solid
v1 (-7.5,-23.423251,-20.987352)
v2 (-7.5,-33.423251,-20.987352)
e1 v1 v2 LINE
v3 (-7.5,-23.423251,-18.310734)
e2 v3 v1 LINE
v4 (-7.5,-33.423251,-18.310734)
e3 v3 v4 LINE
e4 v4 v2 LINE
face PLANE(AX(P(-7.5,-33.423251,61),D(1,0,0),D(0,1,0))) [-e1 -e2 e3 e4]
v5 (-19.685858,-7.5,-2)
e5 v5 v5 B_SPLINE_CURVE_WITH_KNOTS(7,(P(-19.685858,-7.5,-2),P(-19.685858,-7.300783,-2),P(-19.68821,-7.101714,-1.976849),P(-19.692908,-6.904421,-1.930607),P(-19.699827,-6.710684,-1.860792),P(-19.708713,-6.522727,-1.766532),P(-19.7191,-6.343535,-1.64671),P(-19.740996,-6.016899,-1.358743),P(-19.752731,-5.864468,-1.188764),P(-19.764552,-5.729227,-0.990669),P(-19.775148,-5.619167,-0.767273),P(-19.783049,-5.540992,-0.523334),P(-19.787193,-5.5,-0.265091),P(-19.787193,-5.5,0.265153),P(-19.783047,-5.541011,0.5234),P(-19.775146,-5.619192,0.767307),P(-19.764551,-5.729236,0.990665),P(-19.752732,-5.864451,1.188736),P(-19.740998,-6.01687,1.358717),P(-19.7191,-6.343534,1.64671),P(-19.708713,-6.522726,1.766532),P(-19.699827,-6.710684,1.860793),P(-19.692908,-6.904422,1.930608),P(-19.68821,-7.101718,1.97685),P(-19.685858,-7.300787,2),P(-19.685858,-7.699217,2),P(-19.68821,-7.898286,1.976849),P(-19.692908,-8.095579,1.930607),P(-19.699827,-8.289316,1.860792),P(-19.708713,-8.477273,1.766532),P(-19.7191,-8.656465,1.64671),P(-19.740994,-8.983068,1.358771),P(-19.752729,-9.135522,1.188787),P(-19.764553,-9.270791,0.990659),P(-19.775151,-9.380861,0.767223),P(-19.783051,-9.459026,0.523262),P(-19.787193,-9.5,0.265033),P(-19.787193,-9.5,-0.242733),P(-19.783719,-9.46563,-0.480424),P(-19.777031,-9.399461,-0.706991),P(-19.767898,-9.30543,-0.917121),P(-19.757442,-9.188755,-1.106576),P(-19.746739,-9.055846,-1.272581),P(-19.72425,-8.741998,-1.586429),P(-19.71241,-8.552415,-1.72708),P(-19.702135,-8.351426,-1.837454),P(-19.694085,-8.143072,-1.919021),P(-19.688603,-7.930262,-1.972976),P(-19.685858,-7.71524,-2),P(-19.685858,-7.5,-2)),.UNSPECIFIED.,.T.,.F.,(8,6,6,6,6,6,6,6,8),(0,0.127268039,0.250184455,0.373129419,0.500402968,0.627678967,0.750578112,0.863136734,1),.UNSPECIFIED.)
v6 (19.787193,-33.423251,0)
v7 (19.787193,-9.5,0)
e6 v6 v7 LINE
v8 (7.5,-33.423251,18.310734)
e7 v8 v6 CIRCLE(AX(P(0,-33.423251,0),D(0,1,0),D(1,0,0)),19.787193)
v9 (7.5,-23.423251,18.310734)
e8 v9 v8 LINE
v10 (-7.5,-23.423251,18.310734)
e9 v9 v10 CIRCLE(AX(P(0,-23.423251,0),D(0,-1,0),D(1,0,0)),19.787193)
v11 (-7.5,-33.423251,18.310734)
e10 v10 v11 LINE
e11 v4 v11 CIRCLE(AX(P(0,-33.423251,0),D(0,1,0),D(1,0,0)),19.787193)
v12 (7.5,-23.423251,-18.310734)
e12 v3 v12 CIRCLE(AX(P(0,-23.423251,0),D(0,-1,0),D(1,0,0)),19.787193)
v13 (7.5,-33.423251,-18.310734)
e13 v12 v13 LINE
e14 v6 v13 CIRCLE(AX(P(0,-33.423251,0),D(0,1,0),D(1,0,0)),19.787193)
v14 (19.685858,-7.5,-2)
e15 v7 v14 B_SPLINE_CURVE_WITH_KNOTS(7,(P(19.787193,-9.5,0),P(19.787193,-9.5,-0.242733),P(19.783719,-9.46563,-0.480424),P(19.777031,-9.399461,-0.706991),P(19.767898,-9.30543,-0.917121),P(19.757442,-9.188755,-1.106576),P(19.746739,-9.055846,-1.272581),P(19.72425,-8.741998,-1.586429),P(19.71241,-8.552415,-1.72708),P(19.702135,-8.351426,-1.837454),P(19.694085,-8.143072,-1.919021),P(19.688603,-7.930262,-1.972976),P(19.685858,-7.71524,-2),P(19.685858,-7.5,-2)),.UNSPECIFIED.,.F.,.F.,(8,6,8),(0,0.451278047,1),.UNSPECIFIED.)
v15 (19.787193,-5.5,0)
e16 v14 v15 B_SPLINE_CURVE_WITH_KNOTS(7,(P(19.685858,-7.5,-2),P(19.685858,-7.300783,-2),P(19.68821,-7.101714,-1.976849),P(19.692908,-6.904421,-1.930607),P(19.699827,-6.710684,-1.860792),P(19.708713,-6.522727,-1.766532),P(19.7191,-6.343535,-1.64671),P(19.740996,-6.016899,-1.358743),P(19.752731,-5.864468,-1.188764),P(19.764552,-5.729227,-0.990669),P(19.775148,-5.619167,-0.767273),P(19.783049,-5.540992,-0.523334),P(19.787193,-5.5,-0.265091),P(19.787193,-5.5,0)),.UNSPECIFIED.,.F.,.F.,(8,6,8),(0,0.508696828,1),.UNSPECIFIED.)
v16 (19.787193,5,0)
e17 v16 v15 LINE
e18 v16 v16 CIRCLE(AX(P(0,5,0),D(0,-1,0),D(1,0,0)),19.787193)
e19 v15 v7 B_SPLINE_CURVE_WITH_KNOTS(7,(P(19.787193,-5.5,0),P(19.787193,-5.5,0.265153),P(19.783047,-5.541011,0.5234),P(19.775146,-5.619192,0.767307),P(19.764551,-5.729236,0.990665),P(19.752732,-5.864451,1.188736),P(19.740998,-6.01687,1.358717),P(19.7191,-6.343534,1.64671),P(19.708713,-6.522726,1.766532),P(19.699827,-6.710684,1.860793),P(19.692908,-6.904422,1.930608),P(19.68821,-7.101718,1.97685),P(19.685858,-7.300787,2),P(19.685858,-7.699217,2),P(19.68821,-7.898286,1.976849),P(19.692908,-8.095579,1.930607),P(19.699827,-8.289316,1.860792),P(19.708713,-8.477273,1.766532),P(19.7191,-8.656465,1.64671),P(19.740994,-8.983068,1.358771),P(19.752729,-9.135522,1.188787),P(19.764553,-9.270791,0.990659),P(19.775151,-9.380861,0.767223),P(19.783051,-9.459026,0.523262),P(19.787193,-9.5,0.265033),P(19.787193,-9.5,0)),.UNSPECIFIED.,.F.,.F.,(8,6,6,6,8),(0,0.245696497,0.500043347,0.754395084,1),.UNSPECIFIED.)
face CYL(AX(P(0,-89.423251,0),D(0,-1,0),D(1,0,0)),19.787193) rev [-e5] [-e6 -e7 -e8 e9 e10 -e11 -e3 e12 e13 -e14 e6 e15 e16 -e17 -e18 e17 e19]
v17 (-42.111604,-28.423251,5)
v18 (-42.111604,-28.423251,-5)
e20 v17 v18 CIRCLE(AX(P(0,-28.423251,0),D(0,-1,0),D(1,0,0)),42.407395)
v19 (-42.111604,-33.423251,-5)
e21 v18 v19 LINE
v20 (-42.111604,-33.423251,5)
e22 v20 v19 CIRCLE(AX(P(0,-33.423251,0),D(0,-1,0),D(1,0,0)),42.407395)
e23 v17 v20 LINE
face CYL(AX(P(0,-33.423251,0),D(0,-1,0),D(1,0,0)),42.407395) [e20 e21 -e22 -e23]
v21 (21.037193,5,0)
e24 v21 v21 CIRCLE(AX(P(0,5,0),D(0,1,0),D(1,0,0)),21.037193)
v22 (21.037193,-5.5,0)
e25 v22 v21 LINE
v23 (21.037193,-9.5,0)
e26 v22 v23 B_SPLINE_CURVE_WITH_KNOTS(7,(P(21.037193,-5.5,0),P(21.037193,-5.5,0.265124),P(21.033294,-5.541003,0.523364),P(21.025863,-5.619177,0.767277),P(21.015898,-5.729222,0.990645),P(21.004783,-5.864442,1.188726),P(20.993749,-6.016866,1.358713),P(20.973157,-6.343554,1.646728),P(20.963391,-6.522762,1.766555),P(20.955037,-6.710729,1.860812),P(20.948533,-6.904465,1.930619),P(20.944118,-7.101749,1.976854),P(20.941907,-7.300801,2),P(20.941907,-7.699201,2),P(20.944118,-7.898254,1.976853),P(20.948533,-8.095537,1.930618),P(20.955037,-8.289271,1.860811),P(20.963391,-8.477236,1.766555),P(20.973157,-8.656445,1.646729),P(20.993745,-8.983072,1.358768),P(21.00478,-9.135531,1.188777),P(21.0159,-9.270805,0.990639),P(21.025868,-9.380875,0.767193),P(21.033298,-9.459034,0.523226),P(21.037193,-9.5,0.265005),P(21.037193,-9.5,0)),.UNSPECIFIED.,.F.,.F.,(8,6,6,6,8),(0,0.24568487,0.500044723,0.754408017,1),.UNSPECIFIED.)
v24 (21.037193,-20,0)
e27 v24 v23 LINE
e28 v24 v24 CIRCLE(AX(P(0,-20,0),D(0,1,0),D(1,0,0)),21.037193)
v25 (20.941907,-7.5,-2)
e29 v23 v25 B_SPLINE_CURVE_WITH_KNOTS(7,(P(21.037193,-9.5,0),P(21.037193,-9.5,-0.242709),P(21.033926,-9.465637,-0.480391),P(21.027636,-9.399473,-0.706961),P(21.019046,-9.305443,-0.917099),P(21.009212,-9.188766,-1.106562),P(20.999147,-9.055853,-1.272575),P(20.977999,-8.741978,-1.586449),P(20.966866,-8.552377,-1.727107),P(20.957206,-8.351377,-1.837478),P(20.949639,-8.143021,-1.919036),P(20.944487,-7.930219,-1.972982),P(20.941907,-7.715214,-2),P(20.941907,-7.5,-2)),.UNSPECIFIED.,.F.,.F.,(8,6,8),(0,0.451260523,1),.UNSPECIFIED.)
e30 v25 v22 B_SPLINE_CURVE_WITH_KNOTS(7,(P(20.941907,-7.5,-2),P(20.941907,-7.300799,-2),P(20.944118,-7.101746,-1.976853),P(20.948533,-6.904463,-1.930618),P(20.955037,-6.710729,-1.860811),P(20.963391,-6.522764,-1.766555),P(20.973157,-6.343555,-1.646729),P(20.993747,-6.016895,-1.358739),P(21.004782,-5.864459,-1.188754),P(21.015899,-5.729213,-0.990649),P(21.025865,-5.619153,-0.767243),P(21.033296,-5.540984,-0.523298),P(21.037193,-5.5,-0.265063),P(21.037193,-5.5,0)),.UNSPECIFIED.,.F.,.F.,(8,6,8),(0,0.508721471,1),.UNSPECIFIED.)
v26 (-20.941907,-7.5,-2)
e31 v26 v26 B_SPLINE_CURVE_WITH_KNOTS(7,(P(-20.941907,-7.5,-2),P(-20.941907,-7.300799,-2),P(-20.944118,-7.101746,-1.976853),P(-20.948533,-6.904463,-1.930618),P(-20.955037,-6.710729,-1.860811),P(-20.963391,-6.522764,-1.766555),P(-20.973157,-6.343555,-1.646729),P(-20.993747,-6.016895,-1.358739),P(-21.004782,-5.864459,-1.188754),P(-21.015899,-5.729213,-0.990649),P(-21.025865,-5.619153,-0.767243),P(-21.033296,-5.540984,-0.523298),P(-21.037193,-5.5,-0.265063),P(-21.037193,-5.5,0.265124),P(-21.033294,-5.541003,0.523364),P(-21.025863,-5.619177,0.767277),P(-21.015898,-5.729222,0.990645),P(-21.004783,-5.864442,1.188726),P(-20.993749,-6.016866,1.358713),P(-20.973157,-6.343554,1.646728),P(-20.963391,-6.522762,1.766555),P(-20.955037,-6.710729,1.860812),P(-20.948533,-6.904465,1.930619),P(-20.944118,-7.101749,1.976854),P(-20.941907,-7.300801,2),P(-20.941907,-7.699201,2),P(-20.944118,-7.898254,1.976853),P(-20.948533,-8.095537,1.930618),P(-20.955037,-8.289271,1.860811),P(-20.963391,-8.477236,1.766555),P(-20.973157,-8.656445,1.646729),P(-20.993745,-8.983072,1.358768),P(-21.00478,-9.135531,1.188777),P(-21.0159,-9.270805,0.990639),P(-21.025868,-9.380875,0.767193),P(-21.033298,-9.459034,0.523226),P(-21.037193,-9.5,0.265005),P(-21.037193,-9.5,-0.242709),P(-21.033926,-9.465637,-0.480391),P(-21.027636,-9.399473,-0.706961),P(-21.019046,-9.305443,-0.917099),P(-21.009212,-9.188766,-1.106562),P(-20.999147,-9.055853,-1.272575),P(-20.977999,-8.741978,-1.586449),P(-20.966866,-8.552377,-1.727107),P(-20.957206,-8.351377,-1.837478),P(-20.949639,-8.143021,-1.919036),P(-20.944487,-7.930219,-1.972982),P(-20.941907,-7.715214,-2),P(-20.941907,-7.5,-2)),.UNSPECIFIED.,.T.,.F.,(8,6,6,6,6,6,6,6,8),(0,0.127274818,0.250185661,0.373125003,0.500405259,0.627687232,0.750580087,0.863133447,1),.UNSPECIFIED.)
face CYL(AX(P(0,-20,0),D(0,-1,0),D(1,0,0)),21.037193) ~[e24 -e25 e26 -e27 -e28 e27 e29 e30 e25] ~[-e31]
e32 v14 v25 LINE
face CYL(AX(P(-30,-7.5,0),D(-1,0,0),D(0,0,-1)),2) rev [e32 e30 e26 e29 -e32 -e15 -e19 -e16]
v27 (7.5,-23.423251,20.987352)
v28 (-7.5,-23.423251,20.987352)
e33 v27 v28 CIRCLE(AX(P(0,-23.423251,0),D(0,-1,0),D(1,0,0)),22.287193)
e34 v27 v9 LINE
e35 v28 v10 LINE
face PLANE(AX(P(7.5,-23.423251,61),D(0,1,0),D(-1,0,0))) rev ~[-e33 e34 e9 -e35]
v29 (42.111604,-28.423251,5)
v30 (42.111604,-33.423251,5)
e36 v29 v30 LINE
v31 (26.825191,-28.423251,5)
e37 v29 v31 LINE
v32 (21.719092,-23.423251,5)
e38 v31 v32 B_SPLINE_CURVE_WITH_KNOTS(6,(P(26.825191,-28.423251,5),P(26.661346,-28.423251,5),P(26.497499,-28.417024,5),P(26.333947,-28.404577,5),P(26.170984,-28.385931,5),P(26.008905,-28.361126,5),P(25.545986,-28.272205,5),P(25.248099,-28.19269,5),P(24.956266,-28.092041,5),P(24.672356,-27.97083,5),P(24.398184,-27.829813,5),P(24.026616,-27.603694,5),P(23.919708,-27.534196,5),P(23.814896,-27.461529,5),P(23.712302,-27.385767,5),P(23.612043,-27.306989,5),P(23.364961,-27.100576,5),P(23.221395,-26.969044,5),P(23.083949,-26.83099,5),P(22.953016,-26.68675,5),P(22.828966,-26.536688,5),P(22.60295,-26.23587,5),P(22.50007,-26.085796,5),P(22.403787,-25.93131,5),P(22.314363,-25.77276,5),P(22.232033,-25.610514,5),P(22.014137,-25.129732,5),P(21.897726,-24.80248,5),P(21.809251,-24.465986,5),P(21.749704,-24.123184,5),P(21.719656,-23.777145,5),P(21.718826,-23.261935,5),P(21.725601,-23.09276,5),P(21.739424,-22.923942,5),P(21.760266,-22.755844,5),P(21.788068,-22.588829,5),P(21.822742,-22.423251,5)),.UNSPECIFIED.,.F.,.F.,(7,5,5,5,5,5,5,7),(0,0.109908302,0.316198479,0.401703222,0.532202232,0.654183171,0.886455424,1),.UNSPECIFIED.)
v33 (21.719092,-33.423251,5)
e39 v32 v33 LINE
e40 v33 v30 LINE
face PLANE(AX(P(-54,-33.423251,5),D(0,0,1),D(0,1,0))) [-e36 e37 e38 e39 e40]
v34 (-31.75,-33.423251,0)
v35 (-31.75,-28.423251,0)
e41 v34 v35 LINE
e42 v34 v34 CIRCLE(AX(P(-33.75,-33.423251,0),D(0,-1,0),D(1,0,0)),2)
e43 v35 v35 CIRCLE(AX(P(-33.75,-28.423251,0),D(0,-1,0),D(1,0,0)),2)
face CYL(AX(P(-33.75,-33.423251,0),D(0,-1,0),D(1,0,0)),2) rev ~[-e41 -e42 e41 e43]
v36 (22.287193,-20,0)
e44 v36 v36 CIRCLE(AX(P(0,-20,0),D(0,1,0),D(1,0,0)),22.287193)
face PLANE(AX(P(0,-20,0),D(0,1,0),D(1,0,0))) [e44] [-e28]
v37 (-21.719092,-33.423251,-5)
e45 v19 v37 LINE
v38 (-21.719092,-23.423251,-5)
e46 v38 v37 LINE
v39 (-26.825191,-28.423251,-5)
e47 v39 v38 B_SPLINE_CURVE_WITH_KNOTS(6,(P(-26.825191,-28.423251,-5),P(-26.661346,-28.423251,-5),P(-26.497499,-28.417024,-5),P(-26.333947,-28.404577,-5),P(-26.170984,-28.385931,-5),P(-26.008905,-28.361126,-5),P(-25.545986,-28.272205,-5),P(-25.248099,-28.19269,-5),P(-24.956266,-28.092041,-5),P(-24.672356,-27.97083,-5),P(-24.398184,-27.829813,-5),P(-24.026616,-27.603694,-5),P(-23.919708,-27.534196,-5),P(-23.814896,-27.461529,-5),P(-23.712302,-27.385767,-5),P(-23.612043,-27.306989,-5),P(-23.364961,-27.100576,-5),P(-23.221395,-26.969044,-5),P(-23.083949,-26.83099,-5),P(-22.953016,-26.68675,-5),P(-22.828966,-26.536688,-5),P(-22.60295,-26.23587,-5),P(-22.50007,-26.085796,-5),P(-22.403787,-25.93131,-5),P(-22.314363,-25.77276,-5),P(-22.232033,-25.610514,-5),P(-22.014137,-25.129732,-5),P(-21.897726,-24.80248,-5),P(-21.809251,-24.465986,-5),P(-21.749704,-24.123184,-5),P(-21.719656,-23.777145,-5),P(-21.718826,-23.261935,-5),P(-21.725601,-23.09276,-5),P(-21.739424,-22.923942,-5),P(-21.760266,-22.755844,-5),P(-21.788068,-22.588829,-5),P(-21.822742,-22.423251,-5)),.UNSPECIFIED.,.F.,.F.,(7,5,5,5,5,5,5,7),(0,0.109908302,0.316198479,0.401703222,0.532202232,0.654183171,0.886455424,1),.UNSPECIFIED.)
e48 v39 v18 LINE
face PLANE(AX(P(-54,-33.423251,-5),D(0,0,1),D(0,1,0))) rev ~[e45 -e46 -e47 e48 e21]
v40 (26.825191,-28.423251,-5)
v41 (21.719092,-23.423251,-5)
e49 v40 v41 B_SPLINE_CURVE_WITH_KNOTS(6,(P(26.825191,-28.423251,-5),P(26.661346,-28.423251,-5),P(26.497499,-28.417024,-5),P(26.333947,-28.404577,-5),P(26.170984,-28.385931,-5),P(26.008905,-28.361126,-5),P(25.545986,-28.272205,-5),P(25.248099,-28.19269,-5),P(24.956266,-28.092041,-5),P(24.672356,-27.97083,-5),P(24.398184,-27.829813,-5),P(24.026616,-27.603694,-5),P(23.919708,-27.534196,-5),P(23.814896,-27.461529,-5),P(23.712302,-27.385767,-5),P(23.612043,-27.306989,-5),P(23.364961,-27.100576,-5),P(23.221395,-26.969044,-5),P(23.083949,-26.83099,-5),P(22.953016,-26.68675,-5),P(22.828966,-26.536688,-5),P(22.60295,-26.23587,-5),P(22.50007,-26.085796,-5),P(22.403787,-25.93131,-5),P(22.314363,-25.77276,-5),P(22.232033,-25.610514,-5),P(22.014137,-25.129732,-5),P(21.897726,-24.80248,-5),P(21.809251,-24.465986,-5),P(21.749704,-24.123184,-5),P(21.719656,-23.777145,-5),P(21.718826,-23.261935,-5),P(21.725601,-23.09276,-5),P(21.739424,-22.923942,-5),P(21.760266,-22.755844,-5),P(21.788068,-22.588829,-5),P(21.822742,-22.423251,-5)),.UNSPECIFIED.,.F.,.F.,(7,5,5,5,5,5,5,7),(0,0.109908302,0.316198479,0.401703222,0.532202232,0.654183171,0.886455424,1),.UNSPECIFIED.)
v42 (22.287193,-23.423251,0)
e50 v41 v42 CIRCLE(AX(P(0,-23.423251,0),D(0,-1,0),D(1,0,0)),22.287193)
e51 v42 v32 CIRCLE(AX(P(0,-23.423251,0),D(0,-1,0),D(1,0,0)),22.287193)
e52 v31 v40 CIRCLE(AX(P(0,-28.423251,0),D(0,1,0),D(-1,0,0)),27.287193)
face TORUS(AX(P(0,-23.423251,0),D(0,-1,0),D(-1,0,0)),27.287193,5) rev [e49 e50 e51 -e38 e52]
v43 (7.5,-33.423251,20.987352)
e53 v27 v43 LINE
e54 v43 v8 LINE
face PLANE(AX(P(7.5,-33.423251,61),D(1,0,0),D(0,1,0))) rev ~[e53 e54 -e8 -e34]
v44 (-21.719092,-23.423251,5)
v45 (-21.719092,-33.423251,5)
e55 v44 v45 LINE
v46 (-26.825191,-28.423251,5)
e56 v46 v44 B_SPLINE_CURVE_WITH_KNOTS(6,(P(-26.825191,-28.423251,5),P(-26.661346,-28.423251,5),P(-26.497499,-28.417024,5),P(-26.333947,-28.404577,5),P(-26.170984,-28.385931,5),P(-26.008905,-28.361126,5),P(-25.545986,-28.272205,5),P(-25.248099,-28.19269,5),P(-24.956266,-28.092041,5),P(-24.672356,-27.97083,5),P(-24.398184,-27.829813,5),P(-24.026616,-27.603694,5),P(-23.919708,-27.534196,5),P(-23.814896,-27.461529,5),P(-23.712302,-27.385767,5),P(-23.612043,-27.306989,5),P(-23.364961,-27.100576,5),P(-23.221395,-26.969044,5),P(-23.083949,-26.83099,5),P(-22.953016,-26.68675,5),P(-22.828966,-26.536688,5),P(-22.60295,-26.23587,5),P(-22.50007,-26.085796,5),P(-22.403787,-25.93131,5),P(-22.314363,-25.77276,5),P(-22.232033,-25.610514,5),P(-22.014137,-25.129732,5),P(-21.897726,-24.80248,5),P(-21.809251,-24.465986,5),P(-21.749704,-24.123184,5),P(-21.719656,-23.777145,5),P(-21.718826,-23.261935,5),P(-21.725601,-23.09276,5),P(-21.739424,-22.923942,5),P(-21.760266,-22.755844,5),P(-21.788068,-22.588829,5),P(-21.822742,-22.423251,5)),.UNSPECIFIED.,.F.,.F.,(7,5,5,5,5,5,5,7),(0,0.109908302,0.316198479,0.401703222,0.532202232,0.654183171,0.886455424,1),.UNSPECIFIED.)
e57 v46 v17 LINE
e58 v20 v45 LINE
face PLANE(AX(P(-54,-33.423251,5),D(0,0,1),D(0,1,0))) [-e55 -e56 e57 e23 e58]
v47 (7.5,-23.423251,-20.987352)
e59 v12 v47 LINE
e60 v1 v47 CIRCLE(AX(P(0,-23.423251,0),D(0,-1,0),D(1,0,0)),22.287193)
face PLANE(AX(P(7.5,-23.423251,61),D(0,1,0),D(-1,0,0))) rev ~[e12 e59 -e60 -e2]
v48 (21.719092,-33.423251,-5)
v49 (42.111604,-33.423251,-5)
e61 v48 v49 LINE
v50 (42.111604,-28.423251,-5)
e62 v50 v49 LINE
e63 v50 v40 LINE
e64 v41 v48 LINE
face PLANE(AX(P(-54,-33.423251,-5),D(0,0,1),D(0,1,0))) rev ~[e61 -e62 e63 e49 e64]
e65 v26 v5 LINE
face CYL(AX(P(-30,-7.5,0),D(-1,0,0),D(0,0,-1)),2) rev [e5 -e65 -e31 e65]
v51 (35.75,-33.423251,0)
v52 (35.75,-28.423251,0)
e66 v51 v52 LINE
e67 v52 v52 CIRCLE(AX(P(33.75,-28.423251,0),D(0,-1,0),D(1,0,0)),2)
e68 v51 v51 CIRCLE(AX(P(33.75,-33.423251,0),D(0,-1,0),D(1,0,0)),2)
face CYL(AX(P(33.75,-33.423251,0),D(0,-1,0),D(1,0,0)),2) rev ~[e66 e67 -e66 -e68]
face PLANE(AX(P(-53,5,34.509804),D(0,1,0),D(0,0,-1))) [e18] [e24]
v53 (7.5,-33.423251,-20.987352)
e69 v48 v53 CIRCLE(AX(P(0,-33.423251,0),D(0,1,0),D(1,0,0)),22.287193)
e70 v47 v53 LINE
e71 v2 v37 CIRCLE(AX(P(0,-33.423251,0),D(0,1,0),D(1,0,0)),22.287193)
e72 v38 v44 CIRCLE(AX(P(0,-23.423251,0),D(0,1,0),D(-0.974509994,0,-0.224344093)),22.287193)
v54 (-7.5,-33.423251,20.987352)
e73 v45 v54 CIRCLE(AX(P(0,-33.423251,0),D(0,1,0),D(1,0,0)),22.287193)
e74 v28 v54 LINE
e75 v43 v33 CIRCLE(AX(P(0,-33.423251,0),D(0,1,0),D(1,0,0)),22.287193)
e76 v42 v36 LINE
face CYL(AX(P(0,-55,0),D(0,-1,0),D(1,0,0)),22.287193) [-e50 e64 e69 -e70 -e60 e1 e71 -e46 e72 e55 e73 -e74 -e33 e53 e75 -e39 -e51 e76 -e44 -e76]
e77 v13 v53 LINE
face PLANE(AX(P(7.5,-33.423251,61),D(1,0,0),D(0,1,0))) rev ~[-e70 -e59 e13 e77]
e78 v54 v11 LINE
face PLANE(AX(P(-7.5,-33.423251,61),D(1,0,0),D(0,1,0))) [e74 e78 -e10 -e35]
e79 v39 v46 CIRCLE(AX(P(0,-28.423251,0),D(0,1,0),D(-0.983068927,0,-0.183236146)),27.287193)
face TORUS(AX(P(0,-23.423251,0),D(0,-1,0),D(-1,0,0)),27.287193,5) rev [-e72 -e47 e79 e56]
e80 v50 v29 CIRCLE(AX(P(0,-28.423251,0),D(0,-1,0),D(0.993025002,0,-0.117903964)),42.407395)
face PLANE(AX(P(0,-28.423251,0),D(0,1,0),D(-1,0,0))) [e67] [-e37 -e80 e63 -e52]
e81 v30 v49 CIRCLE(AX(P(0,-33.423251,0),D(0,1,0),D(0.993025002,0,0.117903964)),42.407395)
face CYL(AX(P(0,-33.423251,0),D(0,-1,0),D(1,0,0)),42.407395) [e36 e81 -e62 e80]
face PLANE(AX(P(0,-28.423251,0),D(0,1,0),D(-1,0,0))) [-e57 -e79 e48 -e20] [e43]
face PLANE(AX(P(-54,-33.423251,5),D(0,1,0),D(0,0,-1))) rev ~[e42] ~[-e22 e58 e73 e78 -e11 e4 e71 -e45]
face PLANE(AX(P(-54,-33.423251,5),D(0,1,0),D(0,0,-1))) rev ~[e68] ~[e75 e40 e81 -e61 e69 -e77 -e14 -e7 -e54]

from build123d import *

# Parameters (mm, degrees)
SKETCH1_R                = 34
BOSS_EXTRUDE1_DEPTH      = 10
SKETCH2_R                = 19.7871926
SKETCH2_R_2              = 2
CUT_EXTRUDE1_DEPTH       = 10
SKETCH3_R                = 4.837531333
SKETCH4_W                = 4.837531333
SKETCH4_H                = 4.837531333
CUT_EXTRUDE3_DEPTH       = 38
CUT_EXTRUDE3_DEPTH_BACK  = 38
SKETCH5_W                = 72.361656805
SKETCH5_H                = 8.896778435
BOSS_EXTRUDE2_START      = 60
SKETCH6_R                = 22.2871926
SKETCH6_R_2              = 19.7871926
BOSS_EXTRUDE2_DEPTH      = 60
SKETCH7_R                = 21.0371926
SKETCH7_R_2              = 19.7871926
CUT_EXTRUDE4_DEPTH       = 25
CUT_EXTRUDE6_DEPTH       = 25
CUT_EXTRUDE6_DEPTH_BACK  = 25
SKETCH8_R                = 2
CUT_EXTRUDE7_DEPTH       = 43
CUT_EXTRUDE7_DEPTH_BACK  = 53
SKETCH9_W                = 69.351432881
SKETCH9_H                = 5.737807944
CUT_EXTRUDE8_START       = -25
SKETCH10_R               = 22.2871926
SKETCH10_R_2             = 21.0371926
CUT_EXTRUDE8_DEPTH       = 25
CUT_EXTRUDE9_DEPTH       = 30
CUT_EXTRUDE9_DEPTH_BACK  = 30
SKETCH11_R               = 2
CUT_EXTRUDE10_DEPTH      = 30
CUT_EXTRUDE10_DEPTH_BACK = 30
SKETCH12_W               = 44.5743852
SKETCH12_H               = 21.576749043
BOSS_EXTRUDE3_DEPTH      = 66
BOSS_EXTRUDE3_DEPTH_BACK = 54
SKETCH13_W               = 10
SKETCH13_H               = 10
CUT_EXTRUDE11_START      = -66
SKETCH14_R               = 19.7871926
CUT_EXTRUDE11_DEPTH      = 66
SKETCH18_W               = 9.329915791
SKETCH18_H               = 10
CUT_EXTRUDE12_DEPTH      = 66
SKETCH19_R               = 2
CUT_EXTRUDE13_DEPTH      = 66
SKETCH20_R               = 58.570053226
SKETCH20_R_2             = 42.40739525
CUT_EXTRUDE14_DEPTH      = 66
SKETCH22_R               = 21.0371926
SKETCH22_R_2             = 19.7871926
BOSS_EXTRUDE4_DEPTH      = 12
CUT_EXTRUDE15_DEPTH      = 66
CUT_EXTRUDE15_DEPTH_BACK = 66
SKETCH21_W               = 15
SKETCH21_H               = 10


with BuildPart() as part:
    # Sketch1 → Boss-Extrude1 (new body)
    with BuildSketch(Plane(origin=(0, 0, 0), x_dir=(1, 0, 0), z_dir=(0, 1, 0))):
        Circle(SKETCH1_R)
    extrude(amount=BOSS_EXTRUDE1_DEPTH)

    # Sketch2 → Cut-Extrude1 (cut)
    with BuildSketch(Plane.XZ):
        Circle(SKETCH2_R)
        with Locations((-22.1, 12.5)):
            Circle(SKETCH2_R_2)
        with Locations((22.1, 12.5)):
            Circle(SKETCH2_R_2)
        with Locations((22.1, -12.5)):
            Circle(SKETCH2_R_2)
        with Locations((-22.1, -12.5)):
            Circle(SKETCH2_R_2)
    extrude(amount=-CUT_EXTRUDE1_DEPTH, mode=Mode.SUBTRACT)

    # Sketch3 → Cut-Revolve1 (revolve, cut)
    with BuildSketch(Plane(origin=(0, 0, 0), x_dir=(0, 0, -1), z_dir=(1, 0, 0))):
        with Locations((-34, 5)):
            Circle(SKETCH3_R)
    revolve(axis=Axis((0, 0, 0), (0, 1, 0)), mode=Mode.SUBTRACT)

    # Sketch4 → Cut-Revolve2 (revolve, cut)
    with BuildSketch(Plane(origin=(0, 0, 0), x_dir=(0, 0, -1), z_dir=(1, 0, 0))):
        with Locations((-31.581234333, 2.581234333)):
            Rectangle(SKETCH4_W, SKETCH4_H)
    revolve(axis=Axis((0, 0, 0), (0, 1, 0)), mode=Mode.SUBTRACT)

    # Sketch5 → Cut-Extrude3 (cut, two sides: drawn at the far end of the back side and taken through both)
    with BuildSketch(Plane(origin=(0, 0, 0), x_dir=(0, 0, -1), z_dir=(1, 0, 0)).offset(-CUT_EXTRUDE3_DEPTH_BACK)):
        with Locations((-0.901301775, 0.551610782)):
            Rectangle(SKETCH5_W, SKETCH5_H)
    extrude(amount=CUT_EXTRUDE3_DEPTH + CUT_EXTRUDE3_DEPTH_BACK, mode=Mode.SUBTRACT)

    # Sketch6 → Boss-Extrude2 (add)
    with BuildSketch(Plane.XZ.offset(-5).offset(BOSS_EXTRUDE2_START)):
        Circle(SKETCH6_R)
        Circle(SKETCH6_R_2, mode=Mode.SUBTRACT)
    extrude(amount=-BOSS_EXTRUDE2_DEPTH)

    # Sketch7 → Cut-Extrude4 (cut)
    with BuildSketch(Plane.XZ.offset(55)):
        Circle(SKETCH7_R)
        Circle(SKETCH7_R_2, mode=Mode.SUBTRACT)
    extrude(amount=-CUT_EXTRUDE4_DEPTH, mode=Mode.SUBTRACT)

    # Sketch8 → Cut-Extrude6 (cut, two sides: drawn at the far end of the back side and taken through both)
    with BuildSketch(Plane(origin=(0, 0, 0), x_dir=(0, 0, -1), z_dir=(1, 0, 0)).offset(-CUT_EXTRUDE6_DEPTH_BACK)):
        with Locations((0, -42.5)):
            Circle(SKETCH8_R)
    extrude(amount=CUT_EXTRUDE6_DEPTH + CUT_EXTRUDE6_DEPTH_BACK, mode=Mode.SUBTRACT)

    # Sketch9 → Cut-Extrude7 (cut, two sides: drawn at the far end of the back side and taken through both)
    with BuildSketch(Plane(origin=(0, 0, 0), x_dir=(0, 0, -1), z_dir=(1, 0, 0)).offset(-CUT_EXTRUDE7_DEPTH_BACK)):
        with Locations((0.165912519, 7.868903972)):
            Rectangle(SKETCH9_W, SKETCH9_H)
    extrude(amount=CUT_EXTRUDE7_DEPTH + CUT_EXTRUDE7_DEPTH_BACK, mode=Mode.SUBTRACT)

    # Sketch10 → Cut-Extrude8 (cut)
    with BuildSketch(Plane(origin=(0, 5, 0), x_dir=(1, 0, 0), z_dir=(0, 1, 0)).offset(CUT_EXTRUDE8_START)):
        Circle(SKETCH10_R)
        Circle(SKETCH10_R_2, mode=Mode.SUBTRACT)
    extrude(amount=CUT_EXTRUDE8_DEPTH, mode=Mode.SUBTRACT)

    # Sketch11 → Cut-Extrude9 (cut, two sides: drawn at the far end of the back side and taken through both)
    with BuildSketch(Plane(origin=(0, 0, 0), x_dir=(0, 0, -1), z_dir=(1, 0, 0)).offset(-CUT_EXTRUDE9_DEPTH_BACK)):
        with Locations((0, -7.5)):
            Circle(SKETCH11_R)
    extrude(amount=CUT_EXTRUDE9_DEPTH + CUT_EXTRUDE9_DEPTH_BACK, mode=Mode.SUBTRACT)

    # Sketch12 → Cut-Extrude10 (cut, two sides: drawn at the far end of the back side and taken through both)
    with BuildSketch(Plane(origin=(0, 0, 0), x_dir=(0, 0, -1), z_dir=(1, 0, 0)).offset(-CUT_EXTRUDE10_DEPTH_BACK)):
        with Locations((0, -44.211625478)):
            Rectangle(SKETCH12_W, SKETCH12_H)
    extrude(amount=CUT_EXTRUDE10_DEPTH + CUT_EXTRUDE10_DEPTH_BACK, mode=Mode.SUBTRACT)

    # Sketch13 → Boss-Extrude3 (add, two sides: drawn at the far end of the back side and taken through both)
    with BuildSketch(Plane(origin=(0, 0, 0), x_dir=(0, 0, -1), z_dir=(1, 0, 0)).offset(-BOSS_EXTRUDE3_DEPTH_BACK)):
        with Locations((0, -28.423250957)):
            Rectangle(SKETCH13_W, SKETCH13_H)
    extrude(amount=BOSS_EXTRUDE3_DEPTH + BOSS_EXTRUDE3_DEPTH_BACK)

    # Sketch14 → Cut-Extrude11 (cut)
    with BuildSketch(Plane(origin=(0, -23.423250957, 0), x_dir=(1, 0, 0), z_dir=(0, 1, 0)).offset(CUT_EXTRUDE11_START)):
        Circle(SKETCH14_R)
    extrude(amount=CUT_EXTRUDE11_DEPTH, mode=Mode.SUBTRACT)

    # Sketch17 → Cut-Revolve5 (revolve, cut)
    with BuildSketch(Plane.XY):
        with BuildLine():
            Line((-32.2871926, -23.423250957), (-56.890231537, -23.423250957))
            Line((-56.890231537, -23.423250957), (-56.890231537, -28.423250957))
            Line((-56.890231537, -28.423250957), (-27.2871926, -28.423250957))
            ThreePointArc((-27.2871926, -28.423250957), (-23.751658694, -19.887717051), (-32.2871926, -23.423250957))
        make_face()
    revolve(axis=Axis((0, -33.423250957, 0), (0, 1, 0)), mode=Mode.SUBTRACT)

    # Sketch18 → Cut-Extrude12 (cut)
    with BuildSketch(Plane.XY.offset(5)):
        with Locations((61.335042105, -28.423250957)):
            Rectangle(SKETCH18_W, SKETCH18_H)
    extrude(amount=-CUT_EXTRUDE12_DEPTH, mode=Mode.SUBTRACT)

    # Sketch19 → Cut-Extrude13 (cut)
    with BuildSketch(Plane.XZ.offset(33.423250957)):
        with Locations((-33.75, 0)):
            Circle(SKETCH19_R)
        with Locations((33.75, 0)):
            Circle(SKETCH19_R)
    extrude(amount=-CUT_EXTRUDE13_DEPTH, mode=Mode.SUBTRACT)

    # Sketch20 → Cut-Extrude14 (cut)
    with BuildSketch(Plane.XZ.offset(33.423250957)):
        Circle(SKETCH20_R)
        Circle(SKETCH20_R_2, mode=Mode.SUBTRACT)
    extrude(amount=-CUT_EXTRUDE14_DEPTH, mode=Mode.SUBTRACT)

    # Sketch22 → Boss-Extrude4 (add)
    with BuildSketch(Plane.XZ.offset(33.423250957)):
        Circle(SKETCH22_R)
        Circle(SKETCH22_R_2, mode=Mode.SUBTRACT)
    extrude(amount=-BOSS_EXTRUDE4_DEPTH)

    # Sketch21 → Cut-Extrude15 (cut, two sides: drawn at the far end of the back side and taken through both)
    with BuildSketch(Plane(origin=(0, 0, -5), x_dir=(-1, 0, 0), z_dir=(0, 0, -1)).offset(-CUT_EXTRUDE15_DEPTH_BACK)):
        with Locations((0, -28.423250957)):
            Rectangle(SKETCH21_W, SKETCH21_H)
    extrude(amount=CUT_EXTRUDE15_DEPTH + CUT_EXTRUDE15_DEPTH_BACK, mode=Mode.SUBTRACT)


solid = part.part
